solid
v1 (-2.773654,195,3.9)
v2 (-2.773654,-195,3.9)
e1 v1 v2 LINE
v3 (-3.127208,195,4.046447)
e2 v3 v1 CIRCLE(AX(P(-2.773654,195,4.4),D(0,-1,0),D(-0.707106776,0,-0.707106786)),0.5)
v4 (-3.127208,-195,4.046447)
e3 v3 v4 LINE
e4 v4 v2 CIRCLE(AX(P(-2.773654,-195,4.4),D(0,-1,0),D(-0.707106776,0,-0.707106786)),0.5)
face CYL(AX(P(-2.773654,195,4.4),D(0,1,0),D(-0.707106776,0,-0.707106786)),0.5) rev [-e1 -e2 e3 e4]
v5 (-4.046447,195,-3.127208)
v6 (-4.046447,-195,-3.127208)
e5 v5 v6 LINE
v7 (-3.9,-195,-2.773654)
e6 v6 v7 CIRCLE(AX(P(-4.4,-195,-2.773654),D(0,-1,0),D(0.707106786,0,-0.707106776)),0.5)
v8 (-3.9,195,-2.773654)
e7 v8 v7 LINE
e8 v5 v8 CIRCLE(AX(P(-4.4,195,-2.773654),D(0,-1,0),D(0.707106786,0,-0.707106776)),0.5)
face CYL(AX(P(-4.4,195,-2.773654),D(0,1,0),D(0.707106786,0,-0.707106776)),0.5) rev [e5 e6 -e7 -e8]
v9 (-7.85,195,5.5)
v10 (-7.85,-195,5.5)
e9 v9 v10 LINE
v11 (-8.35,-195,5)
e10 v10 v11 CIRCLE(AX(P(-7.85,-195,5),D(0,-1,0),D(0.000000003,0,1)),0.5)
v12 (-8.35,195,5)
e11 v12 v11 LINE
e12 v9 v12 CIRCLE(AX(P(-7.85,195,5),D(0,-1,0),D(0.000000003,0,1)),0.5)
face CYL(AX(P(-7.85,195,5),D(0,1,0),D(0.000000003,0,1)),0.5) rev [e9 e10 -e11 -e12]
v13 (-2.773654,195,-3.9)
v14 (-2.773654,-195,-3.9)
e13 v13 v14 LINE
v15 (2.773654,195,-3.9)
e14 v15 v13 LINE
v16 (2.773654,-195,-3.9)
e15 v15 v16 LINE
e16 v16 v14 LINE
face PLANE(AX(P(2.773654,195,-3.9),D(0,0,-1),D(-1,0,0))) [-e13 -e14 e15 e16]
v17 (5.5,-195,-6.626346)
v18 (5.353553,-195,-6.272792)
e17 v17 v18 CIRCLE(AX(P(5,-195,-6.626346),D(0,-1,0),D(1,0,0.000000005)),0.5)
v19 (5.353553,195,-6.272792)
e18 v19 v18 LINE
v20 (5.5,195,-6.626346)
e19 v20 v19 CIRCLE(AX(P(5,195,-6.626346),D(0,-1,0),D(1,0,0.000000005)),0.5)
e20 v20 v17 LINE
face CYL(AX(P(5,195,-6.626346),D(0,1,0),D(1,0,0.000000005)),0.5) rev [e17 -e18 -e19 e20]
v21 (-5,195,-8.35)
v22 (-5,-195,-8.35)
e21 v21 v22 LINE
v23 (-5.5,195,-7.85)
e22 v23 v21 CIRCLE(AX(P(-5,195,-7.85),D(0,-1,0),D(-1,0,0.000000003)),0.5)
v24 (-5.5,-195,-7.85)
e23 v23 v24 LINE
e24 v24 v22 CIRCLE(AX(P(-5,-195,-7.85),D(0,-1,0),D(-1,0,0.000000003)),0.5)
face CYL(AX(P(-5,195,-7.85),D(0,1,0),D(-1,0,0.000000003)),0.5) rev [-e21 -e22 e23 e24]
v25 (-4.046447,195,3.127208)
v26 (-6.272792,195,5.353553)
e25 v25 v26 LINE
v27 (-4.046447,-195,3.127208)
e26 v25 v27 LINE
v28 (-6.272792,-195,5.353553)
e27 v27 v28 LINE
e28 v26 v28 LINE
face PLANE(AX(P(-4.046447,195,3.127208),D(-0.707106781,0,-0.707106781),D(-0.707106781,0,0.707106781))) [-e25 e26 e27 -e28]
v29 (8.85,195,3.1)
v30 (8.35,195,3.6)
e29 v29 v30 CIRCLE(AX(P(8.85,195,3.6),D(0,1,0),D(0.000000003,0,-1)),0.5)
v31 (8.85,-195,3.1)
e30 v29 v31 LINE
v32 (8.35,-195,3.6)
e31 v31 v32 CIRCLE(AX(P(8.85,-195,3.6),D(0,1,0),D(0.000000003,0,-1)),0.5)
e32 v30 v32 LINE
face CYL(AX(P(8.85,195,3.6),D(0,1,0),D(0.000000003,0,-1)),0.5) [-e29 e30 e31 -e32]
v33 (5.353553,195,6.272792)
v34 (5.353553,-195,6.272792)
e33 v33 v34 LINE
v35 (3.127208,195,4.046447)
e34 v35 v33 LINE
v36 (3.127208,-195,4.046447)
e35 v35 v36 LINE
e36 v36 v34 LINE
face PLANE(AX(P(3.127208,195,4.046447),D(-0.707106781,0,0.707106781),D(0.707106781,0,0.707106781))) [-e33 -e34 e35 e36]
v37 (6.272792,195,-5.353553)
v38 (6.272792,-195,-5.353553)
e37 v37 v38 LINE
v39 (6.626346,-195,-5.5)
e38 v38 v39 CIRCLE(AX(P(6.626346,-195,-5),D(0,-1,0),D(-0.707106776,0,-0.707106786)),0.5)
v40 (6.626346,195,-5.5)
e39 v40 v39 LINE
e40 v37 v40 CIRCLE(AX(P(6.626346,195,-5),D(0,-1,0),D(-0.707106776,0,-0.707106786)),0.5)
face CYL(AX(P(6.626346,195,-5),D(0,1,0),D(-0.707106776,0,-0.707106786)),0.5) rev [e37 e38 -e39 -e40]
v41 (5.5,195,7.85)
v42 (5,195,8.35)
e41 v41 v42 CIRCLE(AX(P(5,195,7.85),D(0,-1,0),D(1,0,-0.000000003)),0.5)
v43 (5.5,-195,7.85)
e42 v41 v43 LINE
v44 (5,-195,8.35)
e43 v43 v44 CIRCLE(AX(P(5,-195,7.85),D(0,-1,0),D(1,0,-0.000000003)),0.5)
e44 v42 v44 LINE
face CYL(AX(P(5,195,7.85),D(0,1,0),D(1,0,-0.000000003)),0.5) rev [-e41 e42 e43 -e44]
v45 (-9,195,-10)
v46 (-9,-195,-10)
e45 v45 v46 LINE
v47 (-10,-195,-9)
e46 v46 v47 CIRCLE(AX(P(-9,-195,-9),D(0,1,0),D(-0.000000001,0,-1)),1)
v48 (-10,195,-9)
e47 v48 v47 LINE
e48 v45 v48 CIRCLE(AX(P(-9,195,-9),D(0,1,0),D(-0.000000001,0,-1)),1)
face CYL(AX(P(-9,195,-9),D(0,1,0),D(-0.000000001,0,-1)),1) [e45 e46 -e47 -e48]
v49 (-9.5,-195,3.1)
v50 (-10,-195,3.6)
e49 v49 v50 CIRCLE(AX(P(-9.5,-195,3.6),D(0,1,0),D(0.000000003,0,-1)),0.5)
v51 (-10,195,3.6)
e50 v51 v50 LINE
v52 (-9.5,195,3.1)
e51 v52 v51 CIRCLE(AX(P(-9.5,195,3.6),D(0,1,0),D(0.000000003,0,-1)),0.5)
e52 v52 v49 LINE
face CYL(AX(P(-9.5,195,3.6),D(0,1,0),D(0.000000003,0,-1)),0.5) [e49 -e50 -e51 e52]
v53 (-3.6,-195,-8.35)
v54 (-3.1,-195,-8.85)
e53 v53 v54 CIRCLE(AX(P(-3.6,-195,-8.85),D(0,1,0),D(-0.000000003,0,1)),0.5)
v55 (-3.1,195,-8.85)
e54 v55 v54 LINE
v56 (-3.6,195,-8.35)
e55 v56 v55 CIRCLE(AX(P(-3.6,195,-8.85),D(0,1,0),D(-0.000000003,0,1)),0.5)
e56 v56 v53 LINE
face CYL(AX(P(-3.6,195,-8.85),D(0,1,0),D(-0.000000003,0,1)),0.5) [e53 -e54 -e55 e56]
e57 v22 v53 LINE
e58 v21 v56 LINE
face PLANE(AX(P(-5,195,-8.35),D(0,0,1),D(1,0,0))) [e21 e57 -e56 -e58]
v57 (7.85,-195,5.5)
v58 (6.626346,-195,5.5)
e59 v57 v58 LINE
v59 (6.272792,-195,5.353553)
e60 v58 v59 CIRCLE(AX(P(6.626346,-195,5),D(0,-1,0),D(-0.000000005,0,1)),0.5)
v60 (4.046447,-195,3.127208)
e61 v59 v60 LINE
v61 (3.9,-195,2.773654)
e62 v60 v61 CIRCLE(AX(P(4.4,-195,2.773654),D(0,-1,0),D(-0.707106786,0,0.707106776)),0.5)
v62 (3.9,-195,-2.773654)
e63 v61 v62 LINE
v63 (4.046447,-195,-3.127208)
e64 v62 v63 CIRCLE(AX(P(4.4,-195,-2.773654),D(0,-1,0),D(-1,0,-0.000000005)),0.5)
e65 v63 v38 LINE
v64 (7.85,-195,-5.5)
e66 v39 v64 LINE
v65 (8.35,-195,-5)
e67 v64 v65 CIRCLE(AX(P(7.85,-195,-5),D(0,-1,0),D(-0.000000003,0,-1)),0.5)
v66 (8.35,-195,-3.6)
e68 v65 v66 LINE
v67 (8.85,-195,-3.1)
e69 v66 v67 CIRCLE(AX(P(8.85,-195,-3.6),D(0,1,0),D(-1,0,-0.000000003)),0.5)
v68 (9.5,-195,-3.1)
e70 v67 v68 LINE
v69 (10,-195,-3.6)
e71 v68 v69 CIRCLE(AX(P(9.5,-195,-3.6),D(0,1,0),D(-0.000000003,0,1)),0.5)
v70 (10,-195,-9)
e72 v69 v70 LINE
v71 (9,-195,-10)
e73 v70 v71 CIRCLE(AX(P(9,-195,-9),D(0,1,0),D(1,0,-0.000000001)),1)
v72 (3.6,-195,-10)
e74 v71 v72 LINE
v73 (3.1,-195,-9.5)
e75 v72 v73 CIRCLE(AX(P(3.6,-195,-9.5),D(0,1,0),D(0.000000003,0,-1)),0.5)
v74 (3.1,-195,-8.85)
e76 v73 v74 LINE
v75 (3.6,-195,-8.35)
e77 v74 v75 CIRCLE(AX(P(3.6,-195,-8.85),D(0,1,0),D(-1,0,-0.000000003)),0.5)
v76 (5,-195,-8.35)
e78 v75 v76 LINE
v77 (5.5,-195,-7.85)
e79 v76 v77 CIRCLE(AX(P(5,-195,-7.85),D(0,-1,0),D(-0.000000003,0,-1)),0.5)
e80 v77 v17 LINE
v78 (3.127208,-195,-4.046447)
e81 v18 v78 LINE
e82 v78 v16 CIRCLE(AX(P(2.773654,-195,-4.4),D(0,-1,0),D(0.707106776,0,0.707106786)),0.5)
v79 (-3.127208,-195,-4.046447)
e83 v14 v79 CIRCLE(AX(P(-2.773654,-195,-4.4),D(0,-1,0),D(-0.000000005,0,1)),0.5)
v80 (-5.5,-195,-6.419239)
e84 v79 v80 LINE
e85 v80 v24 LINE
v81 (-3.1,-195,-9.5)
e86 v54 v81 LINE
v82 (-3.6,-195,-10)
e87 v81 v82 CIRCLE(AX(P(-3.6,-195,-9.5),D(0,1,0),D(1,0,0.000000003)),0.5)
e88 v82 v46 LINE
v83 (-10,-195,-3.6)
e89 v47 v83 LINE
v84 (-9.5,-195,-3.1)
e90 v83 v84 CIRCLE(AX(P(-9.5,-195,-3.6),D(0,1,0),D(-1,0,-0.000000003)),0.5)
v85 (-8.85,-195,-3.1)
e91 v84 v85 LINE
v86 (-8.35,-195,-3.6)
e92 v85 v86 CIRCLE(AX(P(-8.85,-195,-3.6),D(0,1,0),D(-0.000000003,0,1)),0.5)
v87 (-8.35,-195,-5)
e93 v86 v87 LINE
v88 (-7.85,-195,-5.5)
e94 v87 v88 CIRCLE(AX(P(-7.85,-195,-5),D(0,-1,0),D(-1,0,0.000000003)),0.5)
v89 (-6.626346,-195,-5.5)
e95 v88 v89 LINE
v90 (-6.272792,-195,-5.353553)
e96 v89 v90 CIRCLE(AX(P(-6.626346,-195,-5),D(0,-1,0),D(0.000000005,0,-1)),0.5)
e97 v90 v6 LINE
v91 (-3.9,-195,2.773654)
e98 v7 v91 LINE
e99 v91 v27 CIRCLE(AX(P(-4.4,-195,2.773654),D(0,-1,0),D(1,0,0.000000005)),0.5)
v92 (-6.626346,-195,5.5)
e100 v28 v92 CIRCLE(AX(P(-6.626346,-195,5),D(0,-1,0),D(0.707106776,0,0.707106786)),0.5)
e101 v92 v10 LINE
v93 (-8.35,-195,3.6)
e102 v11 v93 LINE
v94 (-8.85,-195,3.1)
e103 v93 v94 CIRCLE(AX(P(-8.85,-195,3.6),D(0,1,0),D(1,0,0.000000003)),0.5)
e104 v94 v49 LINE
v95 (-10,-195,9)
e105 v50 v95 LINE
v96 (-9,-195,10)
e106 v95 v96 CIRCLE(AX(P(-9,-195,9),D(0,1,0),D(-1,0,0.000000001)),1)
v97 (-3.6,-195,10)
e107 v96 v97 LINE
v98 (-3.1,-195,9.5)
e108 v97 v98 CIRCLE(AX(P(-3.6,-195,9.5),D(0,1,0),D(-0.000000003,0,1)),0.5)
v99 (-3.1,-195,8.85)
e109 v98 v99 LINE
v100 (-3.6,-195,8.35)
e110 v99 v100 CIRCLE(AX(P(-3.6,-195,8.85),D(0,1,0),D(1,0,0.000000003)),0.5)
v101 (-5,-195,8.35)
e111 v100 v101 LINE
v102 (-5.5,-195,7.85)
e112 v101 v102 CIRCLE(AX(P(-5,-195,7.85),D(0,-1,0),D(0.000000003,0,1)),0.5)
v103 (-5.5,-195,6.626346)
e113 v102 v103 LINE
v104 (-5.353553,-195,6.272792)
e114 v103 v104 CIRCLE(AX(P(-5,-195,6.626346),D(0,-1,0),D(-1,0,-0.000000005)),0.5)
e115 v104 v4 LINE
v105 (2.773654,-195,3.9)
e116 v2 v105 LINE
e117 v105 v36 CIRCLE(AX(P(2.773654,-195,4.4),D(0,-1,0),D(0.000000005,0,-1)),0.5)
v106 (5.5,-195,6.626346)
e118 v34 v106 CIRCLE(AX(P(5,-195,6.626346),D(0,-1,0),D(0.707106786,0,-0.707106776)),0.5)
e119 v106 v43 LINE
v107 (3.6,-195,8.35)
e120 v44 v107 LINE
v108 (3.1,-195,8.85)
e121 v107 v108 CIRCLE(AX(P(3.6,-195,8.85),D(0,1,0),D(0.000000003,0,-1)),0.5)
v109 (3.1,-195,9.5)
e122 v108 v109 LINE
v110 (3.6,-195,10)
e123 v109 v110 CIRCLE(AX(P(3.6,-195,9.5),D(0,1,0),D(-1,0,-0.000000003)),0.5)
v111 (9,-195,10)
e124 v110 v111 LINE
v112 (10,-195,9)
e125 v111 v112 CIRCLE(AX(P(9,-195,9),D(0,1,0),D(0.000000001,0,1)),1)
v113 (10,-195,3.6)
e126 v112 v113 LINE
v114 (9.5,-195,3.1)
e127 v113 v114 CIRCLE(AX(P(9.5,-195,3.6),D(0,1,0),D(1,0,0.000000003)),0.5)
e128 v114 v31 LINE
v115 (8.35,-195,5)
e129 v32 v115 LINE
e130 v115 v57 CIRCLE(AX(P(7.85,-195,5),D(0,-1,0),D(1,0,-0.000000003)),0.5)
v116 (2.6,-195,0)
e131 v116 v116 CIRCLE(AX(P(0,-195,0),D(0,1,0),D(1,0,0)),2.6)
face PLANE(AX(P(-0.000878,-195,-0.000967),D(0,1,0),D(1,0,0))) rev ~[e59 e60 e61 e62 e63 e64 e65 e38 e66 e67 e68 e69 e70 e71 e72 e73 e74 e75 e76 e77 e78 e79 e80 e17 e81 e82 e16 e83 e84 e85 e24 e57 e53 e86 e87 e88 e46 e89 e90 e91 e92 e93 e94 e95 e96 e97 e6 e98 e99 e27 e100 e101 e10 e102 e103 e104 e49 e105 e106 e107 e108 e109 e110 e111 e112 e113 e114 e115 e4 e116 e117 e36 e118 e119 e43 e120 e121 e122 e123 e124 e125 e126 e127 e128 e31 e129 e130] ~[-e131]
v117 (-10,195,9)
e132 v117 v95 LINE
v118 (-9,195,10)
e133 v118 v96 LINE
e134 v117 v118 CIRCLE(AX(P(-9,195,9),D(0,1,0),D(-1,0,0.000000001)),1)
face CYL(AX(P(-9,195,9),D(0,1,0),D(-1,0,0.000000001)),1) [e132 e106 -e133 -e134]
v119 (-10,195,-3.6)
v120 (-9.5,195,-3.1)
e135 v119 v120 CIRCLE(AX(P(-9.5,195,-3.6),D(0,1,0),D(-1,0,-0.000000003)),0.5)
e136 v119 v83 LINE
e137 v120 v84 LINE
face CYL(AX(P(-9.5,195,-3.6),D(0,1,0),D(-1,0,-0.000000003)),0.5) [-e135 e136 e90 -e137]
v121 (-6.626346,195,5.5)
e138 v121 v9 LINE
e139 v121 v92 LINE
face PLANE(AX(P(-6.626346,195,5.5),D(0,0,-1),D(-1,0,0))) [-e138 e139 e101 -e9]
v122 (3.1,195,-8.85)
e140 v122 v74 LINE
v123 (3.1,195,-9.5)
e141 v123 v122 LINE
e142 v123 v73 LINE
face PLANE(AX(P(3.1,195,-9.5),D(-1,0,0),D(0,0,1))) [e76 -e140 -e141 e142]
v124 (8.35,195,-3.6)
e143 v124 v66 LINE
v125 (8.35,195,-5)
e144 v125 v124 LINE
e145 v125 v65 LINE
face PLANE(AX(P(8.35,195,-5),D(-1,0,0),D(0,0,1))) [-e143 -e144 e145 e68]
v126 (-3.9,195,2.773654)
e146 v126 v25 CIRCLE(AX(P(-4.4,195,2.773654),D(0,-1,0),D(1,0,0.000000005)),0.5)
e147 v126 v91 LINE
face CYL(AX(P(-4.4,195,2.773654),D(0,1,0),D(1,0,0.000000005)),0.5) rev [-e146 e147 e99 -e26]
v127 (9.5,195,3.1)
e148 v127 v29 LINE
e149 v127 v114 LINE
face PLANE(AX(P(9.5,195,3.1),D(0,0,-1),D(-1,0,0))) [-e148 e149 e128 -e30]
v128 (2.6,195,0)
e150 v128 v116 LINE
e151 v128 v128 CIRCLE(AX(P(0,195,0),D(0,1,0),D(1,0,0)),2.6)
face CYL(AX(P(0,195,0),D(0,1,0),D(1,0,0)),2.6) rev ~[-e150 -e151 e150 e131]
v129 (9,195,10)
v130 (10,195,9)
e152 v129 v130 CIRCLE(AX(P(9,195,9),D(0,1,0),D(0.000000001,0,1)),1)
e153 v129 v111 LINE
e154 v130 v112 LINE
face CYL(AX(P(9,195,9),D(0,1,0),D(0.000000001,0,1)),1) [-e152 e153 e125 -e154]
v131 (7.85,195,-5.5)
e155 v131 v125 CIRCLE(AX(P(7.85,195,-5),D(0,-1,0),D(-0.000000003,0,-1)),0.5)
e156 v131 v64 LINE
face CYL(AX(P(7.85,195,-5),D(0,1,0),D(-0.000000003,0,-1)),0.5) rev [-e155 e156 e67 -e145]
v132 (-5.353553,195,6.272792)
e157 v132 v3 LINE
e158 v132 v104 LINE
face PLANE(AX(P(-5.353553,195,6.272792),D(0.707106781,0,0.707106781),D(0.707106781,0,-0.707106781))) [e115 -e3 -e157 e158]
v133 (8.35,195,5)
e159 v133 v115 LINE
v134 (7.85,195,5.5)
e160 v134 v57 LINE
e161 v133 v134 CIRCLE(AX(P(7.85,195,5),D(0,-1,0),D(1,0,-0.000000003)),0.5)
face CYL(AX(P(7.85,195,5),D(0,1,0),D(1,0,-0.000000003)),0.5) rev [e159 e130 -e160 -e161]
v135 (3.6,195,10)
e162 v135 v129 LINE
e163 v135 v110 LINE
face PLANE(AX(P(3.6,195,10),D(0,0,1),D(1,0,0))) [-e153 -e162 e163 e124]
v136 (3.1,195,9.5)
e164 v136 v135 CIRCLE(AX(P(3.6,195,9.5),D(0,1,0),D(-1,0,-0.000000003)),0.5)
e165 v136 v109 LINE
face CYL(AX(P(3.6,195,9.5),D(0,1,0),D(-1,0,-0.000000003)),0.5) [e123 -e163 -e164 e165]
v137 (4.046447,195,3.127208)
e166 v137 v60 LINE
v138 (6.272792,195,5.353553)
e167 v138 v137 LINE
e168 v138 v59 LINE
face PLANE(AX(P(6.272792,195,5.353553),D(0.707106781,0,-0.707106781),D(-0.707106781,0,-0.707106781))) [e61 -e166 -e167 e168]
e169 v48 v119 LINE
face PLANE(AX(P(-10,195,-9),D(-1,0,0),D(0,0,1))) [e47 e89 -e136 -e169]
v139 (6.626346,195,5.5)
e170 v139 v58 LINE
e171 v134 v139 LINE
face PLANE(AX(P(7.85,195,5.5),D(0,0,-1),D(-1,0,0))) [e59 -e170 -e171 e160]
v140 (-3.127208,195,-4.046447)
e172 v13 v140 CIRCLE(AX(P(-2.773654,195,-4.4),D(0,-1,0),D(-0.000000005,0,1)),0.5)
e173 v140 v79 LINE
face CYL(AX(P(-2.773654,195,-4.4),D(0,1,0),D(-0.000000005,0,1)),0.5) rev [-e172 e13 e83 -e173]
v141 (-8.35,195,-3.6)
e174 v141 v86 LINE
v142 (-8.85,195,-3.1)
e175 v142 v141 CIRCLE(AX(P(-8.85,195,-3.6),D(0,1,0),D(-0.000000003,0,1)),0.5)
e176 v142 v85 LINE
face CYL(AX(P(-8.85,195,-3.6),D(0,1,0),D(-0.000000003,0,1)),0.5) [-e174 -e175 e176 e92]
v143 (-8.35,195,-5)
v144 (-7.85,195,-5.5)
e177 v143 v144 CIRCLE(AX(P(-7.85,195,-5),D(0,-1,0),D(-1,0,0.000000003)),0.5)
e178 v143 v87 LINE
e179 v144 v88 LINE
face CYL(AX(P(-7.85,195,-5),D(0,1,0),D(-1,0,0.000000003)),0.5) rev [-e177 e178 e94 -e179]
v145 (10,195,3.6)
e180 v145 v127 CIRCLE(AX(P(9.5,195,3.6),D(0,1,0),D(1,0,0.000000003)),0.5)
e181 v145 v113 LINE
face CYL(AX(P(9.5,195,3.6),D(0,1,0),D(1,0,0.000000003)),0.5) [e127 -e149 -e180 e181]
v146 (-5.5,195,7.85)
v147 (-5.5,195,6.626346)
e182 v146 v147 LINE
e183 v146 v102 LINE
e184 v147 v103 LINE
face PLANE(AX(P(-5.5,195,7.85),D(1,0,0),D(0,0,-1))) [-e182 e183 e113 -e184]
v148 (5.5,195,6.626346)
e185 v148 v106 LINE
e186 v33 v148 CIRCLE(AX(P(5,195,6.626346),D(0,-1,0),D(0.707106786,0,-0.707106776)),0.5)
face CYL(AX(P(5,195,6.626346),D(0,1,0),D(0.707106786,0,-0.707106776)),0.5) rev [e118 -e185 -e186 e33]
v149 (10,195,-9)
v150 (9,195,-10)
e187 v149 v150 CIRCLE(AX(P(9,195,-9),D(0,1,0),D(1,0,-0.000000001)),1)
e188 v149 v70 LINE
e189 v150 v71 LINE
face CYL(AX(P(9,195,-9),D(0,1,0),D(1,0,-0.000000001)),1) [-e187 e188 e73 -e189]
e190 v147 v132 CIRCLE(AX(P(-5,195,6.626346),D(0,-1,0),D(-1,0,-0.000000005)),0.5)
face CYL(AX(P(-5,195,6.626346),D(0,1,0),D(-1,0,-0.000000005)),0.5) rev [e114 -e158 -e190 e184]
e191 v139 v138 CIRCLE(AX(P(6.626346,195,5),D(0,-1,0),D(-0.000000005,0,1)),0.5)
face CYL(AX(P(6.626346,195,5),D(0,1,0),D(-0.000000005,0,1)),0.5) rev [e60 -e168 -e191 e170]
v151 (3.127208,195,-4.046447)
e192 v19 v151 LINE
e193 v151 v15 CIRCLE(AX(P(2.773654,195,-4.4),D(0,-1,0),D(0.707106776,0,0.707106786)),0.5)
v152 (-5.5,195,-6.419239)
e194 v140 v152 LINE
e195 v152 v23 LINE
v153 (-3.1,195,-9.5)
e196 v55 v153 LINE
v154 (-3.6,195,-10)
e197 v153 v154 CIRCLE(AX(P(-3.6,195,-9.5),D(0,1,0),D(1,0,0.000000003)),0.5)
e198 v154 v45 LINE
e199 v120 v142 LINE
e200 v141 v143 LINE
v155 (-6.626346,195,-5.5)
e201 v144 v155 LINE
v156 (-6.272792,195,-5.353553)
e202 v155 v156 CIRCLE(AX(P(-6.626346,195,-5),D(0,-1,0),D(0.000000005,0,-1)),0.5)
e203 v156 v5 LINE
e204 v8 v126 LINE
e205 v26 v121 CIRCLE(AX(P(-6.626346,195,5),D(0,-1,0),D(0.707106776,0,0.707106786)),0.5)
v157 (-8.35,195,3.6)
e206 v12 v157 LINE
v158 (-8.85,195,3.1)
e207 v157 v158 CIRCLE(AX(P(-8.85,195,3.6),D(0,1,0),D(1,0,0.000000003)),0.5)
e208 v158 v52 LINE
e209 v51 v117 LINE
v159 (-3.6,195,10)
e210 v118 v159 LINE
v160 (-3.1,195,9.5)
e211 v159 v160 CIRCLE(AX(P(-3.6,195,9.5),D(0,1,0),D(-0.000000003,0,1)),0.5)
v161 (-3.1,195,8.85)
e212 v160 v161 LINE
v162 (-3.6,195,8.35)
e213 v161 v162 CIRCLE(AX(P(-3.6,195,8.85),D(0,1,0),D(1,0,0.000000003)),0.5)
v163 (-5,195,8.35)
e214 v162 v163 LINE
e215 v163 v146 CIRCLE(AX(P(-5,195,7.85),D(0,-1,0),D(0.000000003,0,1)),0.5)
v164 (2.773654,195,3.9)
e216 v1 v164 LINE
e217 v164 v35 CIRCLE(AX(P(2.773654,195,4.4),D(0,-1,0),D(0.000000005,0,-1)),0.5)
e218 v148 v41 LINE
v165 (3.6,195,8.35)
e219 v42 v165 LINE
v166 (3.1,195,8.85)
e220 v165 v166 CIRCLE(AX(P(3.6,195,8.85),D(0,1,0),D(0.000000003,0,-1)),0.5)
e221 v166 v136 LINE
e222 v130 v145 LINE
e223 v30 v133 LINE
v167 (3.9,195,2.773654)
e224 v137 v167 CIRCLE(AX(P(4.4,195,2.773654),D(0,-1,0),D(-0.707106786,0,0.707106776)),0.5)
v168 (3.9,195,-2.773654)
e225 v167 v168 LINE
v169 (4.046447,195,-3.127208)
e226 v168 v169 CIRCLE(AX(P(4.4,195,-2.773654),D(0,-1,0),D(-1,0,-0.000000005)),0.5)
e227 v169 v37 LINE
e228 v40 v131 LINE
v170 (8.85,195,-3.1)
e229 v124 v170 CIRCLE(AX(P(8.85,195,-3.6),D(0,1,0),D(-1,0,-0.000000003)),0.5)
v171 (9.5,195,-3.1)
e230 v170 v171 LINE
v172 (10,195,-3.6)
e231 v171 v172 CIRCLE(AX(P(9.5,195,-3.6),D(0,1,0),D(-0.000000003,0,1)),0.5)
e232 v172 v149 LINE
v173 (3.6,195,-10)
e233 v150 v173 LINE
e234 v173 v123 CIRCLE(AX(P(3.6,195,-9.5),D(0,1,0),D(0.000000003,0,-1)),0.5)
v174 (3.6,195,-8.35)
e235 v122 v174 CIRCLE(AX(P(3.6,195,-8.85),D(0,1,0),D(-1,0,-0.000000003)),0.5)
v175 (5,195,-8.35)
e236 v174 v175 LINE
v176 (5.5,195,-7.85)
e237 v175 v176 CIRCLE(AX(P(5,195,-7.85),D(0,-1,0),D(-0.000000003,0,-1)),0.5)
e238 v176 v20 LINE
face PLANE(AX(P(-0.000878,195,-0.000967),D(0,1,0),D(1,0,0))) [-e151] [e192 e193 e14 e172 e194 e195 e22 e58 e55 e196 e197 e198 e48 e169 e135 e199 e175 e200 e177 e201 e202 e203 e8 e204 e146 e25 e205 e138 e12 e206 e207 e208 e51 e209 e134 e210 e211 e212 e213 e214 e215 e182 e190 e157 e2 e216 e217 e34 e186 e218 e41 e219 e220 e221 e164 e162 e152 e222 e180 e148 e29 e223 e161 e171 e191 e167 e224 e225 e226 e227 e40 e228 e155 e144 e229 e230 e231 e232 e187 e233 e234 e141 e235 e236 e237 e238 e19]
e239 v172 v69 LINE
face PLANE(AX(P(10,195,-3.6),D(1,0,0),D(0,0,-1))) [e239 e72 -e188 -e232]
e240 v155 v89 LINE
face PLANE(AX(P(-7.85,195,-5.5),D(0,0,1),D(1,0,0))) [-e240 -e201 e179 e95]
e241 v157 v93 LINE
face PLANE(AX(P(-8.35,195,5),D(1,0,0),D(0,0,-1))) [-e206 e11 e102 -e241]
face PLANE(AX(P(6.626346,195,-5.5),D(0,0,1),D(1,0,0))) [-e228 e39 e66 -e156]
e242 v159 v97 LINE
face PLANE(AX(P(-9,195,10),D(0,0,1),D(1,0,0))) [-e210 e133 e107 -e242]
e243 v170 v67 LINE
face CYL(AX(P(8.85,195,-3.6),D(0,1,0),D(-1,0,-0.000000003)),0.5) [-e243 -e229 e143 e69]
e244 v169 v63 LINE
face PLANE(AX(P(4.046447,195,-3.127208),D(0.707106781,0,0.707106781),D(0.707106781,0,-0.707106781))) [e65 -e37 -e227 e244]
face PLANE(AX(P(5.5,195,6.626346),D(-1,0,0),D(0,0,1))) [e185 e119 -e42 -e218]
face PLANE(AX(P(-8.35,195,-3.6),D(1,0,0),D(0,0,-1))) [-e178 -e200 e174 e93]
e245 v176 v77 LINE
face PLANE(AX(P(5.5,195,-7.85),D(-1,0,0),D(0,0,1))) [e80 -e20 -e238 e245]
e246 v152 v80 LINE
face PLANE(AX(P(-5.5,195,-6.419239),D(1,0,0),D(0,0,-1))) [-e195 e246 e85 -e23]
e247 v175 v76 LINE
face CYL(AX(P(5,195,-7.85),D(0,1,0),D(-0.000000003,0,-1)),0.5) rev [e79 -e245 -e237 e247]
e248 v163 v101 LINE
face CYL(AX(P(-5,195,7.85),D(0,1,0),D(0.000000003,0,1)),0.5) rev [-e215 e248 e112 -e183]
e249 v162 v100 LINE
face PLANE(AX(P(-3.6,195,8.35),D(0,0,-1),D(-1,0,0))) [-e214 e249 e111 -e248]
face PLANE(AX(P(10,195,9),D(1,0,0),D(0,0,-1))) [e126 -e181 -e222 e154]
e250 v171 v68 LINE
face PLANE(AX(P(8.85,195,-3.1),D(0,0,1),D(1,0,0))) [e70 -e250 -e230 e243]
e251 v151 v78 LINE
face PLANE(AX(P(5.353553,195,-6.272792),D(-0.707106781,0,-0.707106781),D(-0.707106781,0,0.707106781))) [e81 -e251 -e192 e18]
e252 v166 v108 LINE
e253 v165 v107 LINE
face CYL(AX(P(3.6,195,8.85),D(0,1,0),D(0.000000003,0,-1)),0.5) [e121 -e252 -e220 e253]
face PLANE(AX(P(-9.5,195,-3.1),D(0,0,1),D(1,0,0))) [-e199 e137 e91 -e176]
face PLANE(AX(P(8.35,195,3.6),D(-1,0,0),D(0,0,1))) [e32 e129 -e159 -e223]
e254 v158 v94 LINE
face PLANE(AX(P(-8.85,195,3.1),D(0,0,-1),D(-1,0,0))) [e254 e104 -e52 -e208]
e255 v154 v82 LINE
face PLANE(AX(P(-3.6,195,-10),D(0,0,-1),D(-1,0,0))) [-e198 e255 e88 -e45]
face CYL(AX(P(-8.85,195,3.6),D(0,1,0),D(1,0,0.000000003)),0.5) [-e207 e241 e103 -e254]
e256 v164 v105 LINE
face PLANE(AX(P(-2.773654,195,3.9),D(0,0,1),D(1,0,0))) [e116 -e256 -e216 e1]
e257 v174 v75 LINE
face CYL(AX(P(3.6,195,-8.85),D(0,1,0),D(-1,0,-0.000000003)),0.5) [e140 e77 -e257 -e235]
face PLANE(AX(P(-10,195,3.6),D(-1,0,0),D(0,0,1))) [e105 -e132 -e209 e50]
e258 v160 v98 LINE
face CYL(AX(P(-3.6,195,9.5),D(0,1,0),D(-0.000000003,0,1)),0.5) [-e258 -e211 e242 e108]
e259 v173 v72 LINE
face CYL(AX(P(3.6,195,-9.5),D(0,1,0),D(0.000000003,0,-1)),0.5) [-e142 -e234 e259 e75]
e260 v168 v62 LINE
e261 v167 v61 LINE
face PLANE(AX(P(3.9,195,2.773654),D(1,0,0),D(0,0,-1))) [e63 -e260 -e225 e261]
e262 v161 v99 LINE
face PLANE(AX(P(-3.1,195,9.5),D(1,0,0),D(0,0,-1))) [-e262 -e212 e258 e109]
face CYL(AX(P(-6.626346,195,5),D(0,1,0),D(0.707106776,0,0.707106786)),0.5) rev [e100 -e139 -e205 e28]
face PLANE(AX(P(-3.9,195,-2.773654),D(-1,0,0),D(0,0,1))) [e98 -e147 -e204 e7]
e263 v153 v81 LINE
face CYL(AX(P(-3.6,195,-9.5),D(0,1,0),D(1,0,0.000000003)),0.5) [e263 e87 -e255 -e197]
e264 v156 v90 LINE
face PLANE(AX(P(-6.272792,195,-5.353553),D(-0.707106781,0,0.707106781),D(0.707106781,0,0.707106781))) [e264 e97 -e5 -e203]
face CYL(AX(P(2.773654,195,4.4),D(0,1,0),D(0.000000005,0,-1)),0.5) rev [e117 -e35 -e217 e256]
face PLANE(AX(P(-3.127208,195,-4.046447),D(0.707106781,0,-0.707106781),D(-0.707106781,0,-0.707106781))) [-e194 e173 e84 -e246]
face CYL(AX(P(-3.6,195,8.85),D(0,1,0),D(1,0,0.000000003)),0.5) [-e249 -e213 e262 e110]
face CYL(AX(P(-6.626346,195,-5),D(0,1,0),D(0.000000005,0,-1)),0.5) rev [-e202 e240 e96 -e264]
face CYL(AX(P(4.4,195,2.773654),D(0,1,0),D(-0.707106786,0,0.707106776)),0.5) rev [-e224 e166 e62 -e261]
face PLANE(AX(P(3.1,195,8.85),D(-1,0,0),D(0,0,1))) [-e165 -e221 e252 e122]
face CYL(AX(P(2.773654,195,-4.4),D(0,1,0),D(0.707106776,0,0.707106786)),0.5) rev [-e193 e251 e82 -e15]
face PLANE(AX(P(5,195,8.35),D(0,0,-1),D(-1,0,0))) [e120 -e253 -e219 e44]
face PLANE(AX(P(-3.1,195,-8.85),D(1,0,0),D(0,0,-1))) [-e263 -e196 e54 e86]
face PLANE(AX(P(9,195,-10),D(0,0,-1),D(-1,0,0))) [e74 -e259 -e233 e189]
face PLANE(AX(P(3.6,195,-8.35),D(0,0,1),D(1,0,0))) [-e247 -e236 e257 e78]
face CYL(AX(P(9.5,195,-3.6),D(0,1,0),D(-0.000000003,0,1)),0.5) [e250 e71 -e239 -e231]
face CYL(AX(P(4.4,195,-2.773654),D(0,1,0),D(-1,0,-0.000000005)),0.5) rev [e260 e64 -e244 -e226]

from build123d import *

# Parameters (mm, degrees)
SKETCH1_R           = 2.6
BOSS_EXTRUDE1_DEPTH = 390


with BuildPart() as part:
    # Sketch1 → Boss-Extrude1 (new body)
    with BuildSketch(Plane(origin=(0, 195, 0), x_dir=(1, 0, 0), z_dir=(0, 1, 0))):
        with BuildLine():
            Line((-3.1, 8.85), (-3.1, 9.5))
            ThreePointArc((-3.1, 9.5), (-3.246446609, 9.853553391), (-3.6, 10))
            Line((-3.6, 10), (-9, 10))
            ThreePointArc((-9, 10), (-9.707106781, 9.707106781), (-10, 9))
            Line((-10, 9), (-10, 3.6))
            ThreePointArc((-10, 3.6), (-9.853553391, 3.246446609), (-9.5, 3.1))
            Line((-9.5, 3.1), (-8.85, 3.1))
            ThreePointArc((-8.85, 3.1), (-8.496446609, 3.246446609), (-8.35, 3.6))
            Line((-8.35, 3.6), (-8.35, 5))
            ThreePointArc((-8.35, 5), (-8.203553391, 5.353553391), (-7.85, 5.5))
            Line((-7.85, 5.5), (-6.626345597, 5.5))
            ThreePointArc((-6.626345597, 5.5), (-6.435003881, 5.461939766), (-6.272792206, 5.353553391))
            Line((-6.272792206, 5.353553391), (-4.046446609, 3.127207794))
            ThreePointArc((-4.046446609, 3.127207794), (-3.938060234, 2.964996119), (-3.9, 2.773654403))
            Line((-3.9, 2.773654403), (-3.9, -2.773654403))
            ThreePointArc((-3.9, -2.773654403), (-3.938060234, -2.964996119), (-4.046446609, -3.127207794))
            Line((-4.046446609, -3.127207794), (-6.272792206, -5.353553391))
            ThreePointArc((-6.272792206, -5.353553391), (-6.435003881, -5.461939766), (-6.626345597, -5.5))
            Line((-6.626345597, -5.5), (-7.85, -5.5))
            ThreePointArc((-7.85, -5.5), (-8.203553391, -5.353553391), (-8.35, -5))
            Line((-8.35, -5), (-8.35, -3.6))
            ThreePointArc((-8.35, -3.6), (-8.496446609, -3.246446609), (-8.85, -3.1))
            Line((-8.85, -3.1), (-9.5, -3.1))
            ThreePointArc((-9.5, -3.1), (-9.853553391, -3.246446609), (-10, -3.6))
            Line((-10, -3.6), (-10, -9))
            ThreePointArc((-10, -9), (-9.707106781, -9.707106781), (-9, -10))
            Line((-9, -10), (-3.6, -10))
            ThreePointArc((-3.6, -10), (-3.246446609, -9.853553391), (-3.1, -9.5))
            Line((-3.1, -9.5), (-3.1, -8.85))
            ThreePointArc((-3.1, -8.85), (-3.246446609, -8.496446609), (-3.6, -8.35))
            Line((-3.6, -8.35), (-5, -8.35))
            ThreePointArc((-5, -8.35), (-5.353553391, -8.203553391), (-5.5, -7.85))
            Line((-5.5, -7.85), (-5.5, -6.626345597))
            ThreePointArc((-5.5, -6.626345597), (-5.461939766, -6.435003881), (-5.353553391, -6.272792206))
            Line((-5.353553391, -6.272792206), (-3.127207794, -4.046446609))
            ThreePointArc((-3.127207794, -4.046446609), (-2.964996119, -3.938060234), (-2.773654403, -3.9))
            Line((-2.773654403, -3.9), (2.773654403, -3.9))
            ThreePointArc((2.773654403, -3.9), (2.964996119, -3.938060234), (3.127207794, -4.046446609))
            Line((3.127207794, -4.046446609), (5.353553391, -6.272792206))
            ThreePointArc((5.353553391, -6.272792206), (5.461939766, -6.435003881), (5.5, -6.626345597))
            Line((5.5, -6.626345597), (5.5, -7.85))
            ThreePointArc((5.5, -7.85), (5.353553391, -8.203553391), (5, -8.35))
            Line((5, -8.35), (3.6, -8.35))
            ThreePointArc((3.6, -8.35), (3.246446609, -8.496446609), (3.1, -8.85))
            Line((3.1, -8.85), (3.1, -9.5))
            ThreePointArc((3.1, -9.5), (3.246446609, -9.853553391), (3.6, -10))
            Line((3.6, -10), (9, -10))
            ThreePointArc((9, -10), (9.707106781, -9.707106781), (10, -9))
            Line((10, -9), (10, -3.6))
            ThreePointArc((10, -3.6), (9.853553391, -3.246446609), (9.5, -3.1))
            Line((9.5, -3.1), (8.85, -3.1))
            ThreePointArc((8.85, -3.1), (8.496446609, -3.246446609), (8.35, -3.6))
            Line((8.35, -3.6), (8.35, -5))
            ThreePointArc((8.35, -5), (8.203553391, -5.353553391), (7.85, -5.5))
            Line((7.85, -5.5), (6.626345597, -5.5))
            ThreePointArc((6.626345597, -5.5), (6.435003881, -5.461939766), (6.272792206, -5.353553391))
            Line((6.272792206, -5.353553391), (4.046446609, -3.127207794))
            ThreePointArc((4.046446609, -3.127207794), (3.938060234, -2.964996119), (3.9, -2.773654403))
            Line((3.9, -2.773654403), (3.9, 2.773654403))
            ThreePointArc((3.9, 2.773654403), (3.938060234, 2.964996119), (4.046446609, 3.127207794))
            Line((4.046446609, 3.127207794), (6.272792206, 5.353553391))
            ThreePointArc((6.272792206, 5.353553391), (6.435003881, 5.461939766), (6.626345597, 5.5))
            Line((6.626345597, 5.5), (7.85, 5.5))
            ThreePointArc((7.85, 5.5), (8.203553391, 5.353553391), (8.35, 5))
            Line((8.35, 5), (8.35, 3.6))
            ThreePointArc((8.35, 3.6), (8.496446609, 3.246446609), (8.85, 3.1))
            Line((8.85, 3.1), (9.5, 3.1))
            ThreePointArc((9.5, 3.1), (9.853553391, 3.246446609), (10, 3.6))
            Line((10, 3.6), (10, 9))
            ThreePointArc((10, 9), (9.707106781, 9.707106781), (9, 10))
            Line((9, 10), (3.6, 10))
            ThreePointArc((3.6, 10), (3.246446609, 9.853553391), (3.1, 9.5))
            Line((3.1, 9.5), (3.1, 8.85))
            ThreePointArc((3.1, 8.85), (3.246446609, 8.496446609), (3.6, 8.35))
            Line((3.6, 8.35), (5, 8.35))
            ThreePointArc((5, 8.35), (5.353553391, 8.203553391), (5.5, 7.85))
            Line((5.5, 7.85), (5.5, 6.626345597))
            ThreePointArc((5.5, 6.626345597), (5.461939766, 6.435003881), (5.353553391, 6.272792206))
            Line((5.353553391, 6.272792206), (3.127207794, 4.046446609))
            ThreePointArc((3.127207794, 4.046446609), (2.964996119, 3.938060234), (2.773654403, 3.9))
            Line((2.773654403, 3.9), (-2.773654403, 3.9))
            ThreePointArc((-2.773654403, 3.9), (-2.964996119, 3.938060234), (-3.127207794, 4.046446609))
            Line((-3.127207794, 4.046446609), (-5.5, 6.419238816))
            Line((-5.5, 6.419238816), (-5.5, 7.85))
            ThreePointArc((-5.5, 7.85), (-5.353553391, 8.203553391), (-5, 8.35))
            Line((-5, 8.35), (-3.6, 8.35))
            ThreePointArc((-3.6, 8.35), (-3.246446609, 8.496446609), (-3.1, 8.85))
        make_face()
        Circle(SKETCH1_R, mode=Mode.SUBTRACT)
    extrude(amount=-BOSS_EXTRUDE1_DEPTH)


solid = part.part
